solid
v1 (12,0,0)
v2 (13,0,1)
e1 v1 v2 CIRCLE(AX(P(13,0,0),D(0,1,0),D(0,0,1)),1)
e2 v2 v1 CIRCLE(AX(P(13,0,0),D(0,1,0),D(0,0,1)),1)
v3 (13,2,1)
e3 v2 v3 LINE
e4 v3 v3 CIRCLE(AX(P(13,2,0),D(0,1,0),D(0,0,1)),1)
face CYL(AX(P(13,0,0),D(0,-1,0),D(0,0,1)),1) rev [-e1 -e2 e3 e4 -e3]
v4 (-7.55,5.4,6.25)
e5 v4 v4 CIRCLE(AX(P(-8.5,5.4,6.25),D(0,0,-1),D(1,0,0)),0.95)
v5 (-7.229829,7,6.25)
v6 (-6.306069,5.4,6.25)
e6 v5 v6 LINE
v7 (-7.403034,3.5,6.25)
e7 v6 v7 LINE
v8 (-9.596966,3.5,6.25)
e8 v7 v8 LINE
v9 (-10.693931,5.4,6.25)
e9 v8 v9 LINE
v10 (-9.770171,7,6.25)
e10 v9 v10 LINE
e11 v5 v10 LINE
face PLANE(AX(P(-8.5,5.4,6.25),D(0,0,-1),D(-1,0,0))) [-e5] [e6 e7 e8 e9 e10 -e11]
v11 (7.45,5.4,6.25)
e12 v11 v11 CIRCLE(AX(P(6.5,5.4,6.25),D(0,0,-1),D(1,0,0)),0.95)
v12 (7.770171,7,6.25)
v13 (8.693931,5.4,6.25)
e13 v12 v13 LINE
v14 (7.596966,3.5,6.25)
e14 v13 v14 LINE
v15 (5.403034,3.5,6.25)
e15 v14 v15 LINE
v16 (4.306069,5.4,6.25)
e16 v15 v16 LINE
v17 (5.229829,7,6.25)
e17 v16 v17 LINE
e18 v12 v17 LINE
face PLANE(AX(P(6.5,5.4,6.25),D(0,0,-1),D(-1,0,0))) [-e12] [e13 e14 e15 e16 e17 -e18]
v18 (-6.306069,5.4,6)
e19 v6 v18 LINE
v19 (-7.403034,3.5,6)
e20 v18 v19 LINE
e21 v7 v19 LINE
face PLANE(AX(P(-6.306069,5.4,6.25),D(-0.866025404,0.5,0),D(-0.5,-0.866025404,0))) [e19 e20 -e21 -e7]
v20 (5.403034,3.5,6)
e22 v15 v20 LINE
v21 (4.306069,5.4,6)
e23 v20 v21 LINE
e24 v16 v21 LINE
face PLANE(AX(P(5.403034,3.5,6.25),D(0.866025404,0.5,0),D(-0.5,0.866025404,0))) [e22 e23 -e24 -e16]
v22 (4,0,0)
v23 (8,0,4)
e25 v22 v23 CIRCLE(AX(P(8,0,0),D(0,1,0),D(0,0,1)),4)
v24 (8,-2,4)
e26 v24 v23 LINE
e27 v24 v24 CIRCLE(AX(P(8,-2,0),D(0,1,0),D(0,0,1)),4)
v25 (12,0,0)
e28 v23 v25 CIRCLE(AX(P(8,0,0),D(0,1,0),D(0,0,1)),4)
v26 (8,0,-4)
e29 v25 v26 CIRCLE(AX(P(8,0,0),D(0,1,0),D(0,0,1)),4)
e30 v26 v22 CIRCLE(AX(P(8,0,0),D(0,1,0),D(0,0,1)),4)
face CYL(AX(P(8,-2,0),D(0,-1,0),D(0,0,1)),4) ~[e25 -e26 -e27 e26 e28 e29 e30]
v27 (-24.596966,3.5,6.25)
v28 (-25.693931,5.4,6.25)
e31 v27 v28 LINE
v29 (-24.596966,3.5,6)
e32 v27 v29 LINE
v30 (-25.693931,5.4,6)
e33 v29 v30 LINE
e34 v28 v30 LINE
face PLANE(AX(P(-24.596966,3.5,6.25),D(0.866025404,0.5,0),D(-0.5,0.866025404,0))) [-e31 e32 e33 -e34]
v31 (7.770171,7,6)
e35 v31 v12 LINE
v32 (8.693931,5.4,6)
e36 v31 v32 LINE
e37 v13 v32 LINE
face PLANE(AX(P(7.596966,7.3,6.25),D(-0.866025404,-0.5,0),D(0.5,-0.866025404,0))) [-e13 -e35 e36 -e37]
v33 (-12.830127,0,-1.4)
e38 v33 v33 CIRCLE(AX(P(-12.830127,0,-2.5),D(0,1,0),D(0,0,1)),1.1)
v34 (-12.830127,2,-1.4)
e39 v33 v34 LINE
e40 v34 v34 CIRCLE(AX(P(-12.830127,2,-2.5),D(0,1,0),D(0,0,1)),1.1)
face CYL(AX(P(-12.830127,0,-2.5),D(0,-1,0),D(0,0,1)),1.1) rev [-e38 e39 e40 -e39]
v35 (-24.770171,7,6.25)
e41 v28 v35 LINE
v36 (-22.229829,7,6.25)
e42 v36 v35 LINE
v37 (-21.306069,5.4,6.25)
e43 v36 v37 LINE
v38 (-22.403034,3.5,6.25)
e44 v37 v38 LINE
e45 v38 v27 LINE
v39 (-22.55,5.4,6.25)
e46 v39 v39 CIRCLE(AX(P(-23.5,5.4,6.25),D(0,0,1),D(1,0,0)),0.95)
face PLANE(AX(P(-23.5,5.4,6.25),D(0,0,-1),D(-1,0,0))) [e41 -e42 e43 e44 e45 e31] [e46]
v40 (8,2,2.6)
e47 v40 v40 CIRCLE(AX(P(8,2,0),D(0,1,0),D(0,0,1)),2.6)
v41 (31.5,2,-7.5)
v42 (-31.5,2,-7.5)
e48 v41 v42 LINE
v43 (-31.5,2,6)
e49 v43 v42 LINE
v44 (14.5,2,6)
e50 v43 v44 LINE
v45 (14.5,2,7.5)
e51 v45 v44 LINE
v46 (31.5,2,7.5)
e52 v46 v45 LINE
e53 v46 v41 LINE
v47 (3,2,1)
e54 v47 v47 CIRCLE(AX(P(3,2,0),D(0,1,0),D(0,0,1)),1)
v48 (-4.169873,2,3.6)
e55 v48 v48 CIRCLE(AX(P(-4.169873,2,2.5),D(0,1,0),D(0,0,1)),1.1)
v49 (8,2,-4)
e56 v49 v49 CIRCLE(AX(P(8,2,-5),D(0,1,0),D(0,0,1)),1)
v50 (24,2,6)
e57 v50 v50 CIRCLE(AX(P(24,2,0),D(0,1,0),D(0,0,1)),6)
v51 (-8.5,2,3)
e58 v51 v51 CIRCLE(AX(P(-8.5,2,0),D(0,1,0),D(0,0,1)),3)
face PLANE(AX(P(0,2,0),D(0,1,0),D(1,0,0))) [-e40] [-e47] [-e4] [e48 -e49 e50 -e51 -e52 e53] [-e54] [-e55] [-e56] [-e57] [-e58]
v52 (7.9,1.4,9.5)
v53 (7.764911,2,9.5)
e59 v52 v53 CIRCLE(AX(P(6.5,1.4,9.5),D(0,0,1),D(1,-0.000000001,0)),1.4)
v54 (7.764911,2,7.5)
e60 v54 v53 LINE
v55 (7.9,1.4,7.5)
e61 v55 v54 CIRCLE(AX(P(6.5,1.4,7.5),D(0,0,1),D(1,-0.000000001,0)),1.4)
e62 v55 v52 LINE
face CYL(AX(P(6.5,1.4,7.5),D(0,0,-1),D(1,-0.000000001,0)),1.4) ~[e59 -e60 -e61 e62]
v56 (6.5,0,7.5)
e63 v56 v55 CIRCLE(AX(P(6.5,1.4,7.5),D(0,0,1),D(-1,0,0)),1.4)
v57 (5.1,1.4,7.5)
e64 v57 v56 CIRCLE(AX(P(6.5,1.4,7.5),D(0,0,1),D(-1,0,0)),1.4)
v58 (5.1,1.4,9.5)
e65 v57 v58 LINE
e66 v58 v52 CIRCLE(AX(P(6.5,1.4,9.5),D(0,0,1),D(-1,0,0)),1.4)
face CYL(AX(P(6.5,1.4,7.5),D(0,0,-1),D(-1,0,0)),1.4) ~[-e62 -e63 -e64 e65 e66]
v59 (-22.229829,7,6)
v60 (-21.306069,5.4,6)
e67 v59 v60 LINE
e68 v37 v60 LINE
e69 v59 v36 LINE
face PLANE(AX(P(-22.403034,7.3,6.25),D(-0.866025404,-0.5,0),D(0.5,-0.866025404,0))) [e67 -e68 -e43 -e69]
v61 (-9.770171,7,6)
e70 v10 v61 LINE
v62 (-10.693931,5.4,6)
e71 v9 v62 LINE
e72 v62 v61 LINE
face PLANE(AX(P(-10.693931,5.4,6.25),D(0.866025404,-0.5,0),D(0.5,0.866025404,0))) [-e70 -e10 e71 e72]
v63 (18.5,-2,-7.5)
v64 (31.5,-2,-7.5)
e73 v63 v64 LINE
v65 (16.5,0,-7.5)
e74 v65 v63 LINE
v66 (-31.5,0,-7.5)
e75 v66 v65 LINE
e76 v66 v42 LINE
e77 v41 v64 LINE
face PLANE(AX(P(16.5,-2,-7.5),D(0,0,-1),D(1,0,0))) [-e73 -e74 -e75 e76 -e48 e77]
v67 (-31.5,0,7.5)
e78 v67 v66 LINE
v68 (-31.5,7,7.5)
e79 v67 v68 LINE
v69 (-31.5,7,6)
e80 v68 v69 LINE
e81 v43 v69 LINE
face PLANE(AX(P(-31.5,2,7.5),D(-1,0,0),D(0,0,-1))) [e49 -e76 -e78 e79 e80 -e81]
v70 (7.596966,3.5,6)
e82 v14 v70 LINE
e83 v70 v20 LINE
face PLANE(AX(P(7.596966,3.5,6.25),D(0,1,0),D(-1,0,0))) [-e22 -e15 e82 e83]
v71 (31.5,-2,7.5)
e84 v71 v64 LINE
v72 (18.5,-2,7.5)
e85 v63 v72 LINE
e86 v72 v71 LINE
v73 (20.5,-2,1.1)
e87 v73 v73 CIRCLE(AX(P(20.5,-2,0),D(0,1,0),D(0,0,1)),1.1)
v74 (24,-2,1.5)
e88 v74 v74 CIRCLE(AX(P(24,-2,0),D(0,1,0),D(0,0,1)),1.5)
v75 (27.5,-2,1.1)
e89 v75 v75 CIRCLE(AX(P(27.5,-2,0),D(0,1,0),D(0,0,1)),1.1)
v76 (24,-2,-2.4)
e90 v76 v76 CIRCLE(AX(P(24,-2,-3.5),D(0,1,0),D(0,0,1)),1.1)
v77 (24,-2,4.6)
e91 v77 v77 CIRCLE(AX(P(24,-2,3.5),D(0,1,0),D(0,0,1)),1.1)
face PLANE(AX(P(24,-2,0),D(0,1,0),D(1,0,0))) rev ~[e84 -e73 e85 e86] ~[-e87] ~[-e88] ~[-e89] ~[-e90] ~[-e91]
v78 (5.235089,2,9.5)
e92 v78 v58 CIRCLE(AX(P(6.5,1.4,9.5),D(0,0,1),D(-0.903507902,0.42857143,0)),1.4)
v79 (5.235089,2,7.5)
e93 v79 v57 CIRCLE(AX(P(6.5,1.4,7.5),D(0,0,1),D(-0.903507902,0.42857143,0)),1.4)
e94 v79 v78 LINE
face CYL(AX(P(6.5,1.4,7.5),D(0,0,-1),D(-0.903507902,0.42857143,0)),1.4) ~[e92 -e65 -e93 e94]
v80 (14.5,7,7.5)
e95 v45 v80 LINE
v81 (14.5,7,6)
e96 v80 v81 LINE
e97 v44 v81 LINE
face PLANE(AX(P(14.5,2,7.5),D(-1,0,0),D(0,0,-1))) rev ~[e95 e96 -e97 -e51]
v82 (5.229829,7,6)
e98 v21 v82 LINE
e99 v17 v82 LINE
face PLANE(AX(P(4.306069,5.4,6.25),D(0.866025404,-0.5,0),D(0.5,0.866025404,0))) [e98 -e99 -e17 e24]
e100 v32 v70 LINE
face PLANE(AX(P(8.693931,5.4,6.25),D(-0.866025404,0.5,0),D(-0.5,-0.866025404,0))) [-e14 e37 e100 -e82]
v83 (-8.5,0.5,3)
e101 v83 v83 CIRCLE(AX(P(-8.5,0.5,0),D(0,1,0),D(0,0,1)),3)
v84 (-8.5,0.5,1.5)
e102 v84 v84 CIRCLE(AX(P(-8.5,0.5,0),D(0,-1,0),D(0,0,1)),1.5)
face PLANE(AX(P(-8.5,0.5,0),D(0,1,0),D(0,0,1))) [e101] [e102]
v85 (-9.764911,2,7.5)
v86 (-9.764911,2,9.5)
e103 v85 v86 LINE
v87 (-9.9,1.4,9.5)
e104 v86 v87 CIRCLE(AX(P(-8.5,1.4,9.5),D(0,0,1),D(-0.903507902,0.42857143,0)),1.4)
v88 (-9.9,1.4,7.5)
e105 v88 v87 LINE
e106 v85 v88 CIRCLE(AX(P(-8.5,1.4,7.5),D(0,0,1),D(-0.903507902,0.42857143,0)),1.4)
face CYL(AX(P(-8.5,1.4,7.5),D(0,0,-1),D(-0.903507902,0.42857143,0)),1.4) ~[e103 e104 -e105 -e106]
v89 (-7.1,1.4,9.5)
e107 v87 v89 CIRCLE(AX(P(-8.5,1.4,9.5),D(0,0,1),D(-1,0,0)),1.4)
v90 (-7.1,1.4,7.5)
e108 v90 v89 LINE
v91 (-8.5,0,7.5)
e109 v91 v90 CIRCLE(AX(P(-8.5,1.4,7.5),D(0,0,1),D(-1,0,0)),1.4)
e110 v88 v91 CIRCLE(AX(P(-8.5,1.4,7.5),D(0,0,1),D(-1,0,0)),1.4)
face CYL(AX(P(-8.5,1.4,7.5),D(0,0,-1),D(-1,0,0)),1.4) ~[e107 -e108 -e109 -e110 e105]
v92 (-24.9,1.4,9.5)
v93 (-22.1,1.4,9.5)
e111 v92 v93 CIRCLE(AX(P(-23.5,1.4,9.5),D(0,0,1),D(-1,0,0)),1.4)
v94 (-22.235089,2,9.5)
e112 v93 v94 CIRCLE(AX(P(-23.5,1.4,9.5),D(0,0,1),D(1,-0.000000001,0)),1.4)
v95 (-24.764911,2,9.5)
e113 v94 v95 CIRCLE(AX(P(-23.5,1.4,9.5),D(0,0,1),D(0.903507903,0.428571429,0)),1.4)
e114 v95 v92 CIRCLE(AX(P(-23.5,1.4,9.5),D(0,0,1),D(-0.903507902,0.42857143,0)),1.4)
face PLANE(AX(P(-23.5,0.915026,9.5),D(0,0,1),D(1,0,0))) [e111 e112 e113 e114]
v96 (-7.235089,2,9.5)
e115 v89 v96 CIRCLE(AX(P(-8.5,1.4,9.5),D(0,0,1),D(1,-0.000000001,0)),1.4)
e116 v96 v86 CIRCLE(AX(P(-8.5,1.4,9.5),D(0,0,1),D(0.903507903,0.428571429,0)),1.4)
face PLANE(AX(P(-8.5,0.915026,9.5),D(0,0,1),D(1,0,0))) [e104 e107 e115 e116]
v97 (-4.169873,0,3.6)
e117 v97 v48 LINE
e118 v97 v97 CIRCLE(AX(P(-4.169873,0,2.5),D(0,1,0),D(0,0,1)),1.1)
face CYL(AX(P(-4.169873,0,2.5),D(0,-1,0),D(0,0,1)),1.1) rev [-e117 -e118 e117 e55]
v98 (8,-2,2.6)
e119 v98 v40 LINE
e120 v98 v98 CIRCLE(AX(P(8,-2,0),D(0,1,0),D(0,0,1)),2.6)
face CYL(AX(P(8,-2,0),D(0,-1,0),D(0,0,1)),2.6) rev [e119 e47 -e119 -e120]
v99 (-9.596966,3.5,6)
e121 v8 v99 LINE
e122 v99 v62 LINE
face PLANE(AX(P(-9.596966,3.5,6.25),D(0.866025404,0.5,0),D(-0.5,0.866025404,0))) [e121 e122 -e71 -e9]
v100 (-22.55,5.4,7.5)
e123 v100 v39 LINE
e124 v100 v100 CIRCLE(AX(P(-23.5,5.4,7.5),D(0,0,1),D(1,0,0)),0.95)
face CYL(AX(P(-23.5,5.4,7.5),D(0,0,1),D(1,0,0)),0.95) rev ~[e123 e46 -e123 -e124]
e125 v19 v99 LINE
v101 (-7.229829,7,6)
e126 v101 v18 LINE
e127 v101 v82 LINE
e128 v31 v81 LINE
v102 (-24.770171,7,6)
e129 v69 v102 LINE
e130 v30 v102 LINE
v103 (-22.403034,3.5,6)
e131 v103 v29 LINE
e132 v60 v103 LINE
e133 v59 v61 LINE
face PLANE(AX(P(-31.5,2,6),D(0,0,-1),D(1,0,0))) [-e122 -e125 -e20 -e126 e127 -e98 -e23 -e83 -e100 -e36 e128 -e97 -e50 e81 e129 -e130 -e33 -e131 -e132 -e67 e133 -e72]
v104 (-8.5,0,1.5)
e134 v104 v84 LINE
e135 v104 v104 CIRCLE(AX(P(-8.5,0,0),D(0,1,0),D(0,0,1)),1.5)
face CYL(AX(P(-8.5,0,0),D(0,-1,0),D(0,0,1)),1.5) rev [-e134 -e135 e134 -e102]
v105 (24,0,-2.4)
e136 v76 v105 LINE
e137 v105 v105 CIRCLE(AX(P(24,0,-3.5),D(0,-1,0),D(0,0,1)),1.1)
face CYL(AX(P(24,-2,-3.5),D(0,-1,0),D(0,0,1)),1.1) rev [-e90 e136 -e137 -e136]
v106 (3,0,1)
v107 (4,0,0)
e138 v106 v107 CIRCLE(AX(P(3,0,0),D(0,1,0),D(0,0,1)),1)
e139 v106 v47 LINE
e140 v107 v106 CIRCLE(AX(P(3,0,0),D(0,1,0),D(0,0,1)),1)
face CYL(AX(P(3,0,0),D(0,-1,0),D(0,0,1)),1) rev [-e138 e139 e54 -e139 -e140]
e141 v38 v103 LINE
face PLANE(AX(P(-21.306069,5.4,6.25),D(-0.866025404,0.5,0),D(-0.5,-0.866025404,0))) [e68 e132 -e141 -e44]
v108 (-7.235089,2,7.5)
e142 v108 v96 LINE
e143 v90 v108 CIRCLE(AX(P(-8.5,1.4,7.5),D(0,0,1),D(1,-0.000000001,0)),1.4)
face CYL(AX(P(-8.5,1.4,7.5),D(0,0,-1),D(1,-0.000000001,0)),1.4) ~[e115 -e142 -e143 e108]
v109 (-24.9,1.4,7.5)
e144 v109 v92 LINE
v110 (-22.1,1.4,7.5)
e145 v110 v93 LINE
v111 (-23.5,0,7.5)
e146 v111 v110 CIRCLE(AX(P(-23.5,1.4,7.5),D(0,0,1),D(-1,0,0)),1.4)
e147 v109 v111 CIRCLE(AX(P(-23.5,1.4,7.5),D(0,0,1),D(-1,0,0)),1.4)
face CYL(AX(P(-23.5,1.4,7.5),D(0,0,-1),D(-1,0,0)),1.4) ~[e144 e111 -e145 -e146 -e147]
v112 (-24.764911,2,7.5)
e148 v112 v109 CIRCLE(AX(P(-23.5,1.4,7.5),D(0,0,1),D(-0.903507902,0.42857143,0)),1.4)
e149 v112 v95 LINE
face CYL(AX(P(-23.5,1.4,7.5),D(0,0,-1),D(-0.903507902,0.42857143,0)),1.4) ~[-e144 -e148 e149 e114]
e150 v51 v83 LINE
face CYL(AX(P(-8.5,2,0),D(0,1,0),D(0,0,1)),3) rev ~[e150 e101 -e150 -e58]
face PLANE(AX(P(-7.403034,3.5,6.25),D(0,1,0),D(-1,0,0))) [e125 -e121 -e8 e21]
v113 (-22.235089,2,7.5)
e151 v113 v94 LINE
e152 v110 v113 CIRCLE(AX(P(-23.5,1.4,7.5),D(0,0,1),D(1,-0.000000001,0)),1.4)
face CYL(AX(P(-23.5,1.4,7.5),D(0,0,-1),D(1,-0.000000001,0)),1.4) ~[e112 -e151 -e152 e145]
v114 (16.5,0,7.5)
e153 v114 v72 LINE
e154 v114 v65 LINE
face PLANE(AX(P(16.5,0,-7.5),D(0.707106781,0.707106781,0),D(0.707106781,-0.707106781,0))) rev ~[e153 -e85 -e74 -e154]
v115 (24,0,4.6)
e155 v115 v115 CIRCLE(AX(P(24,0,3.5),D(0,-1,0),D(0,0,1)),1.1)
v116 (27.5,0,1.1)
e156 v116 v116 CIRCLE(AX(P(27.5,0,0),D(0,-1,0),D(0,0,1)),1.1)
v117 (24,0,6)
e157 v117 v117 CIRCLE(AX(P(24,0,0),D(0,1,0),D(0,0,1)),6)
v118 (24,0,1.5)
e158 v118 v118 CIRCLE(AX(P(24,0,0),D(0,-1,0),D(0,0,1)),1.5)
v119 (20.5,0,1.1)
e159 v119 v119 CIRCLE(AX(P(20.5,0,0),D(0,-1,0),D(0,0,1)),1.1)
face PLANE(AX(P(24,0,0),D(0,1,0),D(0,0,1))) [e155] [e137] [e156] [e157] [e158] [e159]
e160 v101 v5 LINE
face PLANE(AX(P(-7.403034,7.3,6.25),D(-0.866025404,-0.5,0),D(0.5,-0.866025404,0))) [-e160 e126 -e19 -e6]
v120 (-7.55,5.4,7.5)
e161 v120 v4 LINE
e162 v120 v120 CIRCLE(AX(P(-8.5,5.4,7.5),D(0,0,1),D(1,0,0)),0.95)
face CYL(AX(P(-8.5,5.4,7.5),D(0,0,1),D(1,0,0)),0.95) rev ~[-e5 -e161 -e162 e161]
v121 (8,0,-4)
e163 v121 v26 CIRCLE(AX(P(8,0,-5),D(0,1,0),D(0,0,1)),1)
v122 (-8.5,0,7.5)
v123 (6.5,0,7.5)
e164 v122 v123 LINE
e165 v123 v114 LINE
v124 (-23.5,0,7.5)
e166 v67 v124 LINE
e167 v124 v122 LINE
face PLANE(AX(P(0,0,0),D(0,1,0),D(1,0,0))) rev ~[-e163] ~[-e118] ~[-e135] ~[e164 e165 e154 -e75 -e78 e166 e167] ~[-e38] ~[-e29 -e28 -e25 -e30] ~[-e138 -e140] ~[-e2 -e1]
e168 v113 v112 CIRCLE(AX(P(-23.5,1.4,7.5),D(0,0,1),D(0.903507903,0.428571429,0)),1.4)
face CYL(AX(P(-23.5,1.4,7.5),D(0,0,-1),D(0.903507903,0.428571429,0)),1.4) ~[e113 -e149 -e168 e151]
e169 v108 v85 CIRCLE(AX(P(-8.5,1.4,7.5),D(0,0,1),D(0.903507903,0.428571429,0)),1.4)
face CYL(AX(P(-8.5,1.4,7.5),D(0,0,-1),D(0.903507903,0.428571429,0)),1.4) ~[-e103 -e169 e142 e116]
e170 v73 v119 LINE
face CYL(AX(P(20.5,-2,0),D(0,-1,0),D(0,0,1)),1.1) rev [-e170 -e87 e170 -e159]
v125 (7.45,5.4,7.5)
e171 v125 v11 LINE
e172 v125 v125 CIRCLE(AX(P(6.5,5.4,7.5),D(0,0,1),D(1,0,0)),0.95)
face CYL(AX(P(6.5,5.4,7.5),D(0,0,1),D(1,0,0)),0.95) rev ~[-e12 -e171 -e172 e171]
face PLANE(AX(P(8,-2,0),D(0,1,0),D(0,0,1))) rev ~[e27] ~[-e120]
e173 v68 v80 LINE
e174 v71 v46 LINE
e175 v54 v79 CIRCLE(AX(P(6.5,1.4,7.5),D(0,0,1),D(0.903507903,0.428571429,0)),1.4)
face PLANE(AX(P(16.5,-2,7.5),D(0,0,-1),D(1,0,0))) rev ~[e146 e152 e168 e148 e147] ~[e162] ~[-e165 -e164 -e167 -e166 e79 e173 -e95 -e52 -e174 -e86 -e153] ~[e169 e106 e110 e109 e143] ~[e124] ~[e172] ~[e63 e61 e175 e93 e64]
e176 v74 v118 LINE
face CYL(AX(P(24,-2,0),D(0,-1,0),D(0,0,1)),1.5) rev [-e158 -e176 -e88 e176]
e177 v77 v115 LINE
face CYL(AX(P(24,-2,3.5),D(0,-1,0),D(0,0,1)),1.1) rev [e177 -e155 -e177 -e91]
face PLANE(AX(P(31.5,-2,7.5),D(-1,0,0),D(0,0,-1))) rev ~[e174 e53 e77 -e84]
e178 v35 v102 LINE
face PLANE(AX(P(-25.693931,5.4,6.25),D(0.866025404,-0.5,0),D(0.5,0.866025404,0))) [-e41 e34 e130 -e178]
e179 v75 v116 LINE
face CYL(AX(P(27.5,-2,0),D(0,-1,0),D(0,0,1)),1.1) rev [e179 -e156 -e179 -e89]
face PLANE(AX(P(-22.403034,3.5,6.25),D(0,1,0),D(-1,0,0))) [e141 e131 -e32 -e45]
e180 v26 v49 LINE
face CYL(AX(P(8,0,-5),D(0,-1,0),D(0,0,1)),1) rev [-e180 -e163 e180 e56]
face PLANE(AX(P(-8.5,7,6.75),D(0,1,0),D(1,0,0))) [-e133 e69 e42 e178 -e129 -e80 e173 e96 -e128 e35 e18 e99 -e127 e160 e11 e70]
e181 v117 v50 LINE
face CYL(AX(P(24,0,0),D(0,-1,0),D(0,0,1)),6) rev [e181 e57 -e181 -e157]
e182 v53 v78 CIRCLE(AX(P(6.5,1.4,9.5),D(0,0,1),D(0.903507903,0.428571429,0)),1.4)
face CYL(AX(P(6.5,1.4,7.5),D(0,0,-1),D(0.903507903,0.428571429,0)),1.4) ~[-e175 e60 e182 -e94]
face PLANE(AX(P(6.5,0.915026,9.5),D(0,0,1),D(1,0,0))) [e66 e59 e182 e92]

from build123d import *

# Parameters (mm, degrees)
SKETCH_1_W          = 63
SKETCH_1_H          = 15
SKETCH_1_R          = 1.1
SKETCH_1_R_2        = 1
SKETCH_1_R_3        = 1.5
SKETCH_1_R_4        = 2.6
EXTRUDE_1_DEPTH     = 2
EXTRUDE_2_DEPTH     = 2
SKETCH_4_R          = 3
CUT_EXTRUDE_1_DEPTH = 1.5
SKETCH_5_W          = 46
SKETCH_5_H          = 1.5
EXTRUDE_3_DEPTH     = 5
SKETCH_2_3_R        = 0.95
CUT_EXTRUDE_2_DEPTH = 6
CUT_EXTRUDE_START   = -0.25
SKETCH_7_R          = 0.95
CUT_EXTRUDE_3_DEPTH = 0.25
SKETCH_1_3_W        = 15
SKETCH_1_3_H        = 15
SKETCH_1_3_R        = 6
SKETCH_1_3_R_2      = 1.5
SKETCH_1_3_R_3      = 1.1
EXTRUDE_4_DEPTH     = 2
EXTRUDE_START       = -2
SKETCH_1_4_W        = 15
SKETCH_1_4_H        = 15
SKETCH_1_4_R        = 6
SKETCH_1_4_R_2      = 1.5
SKETCH_1_4_R_3      = 1.1
EXTRUDE_5_DEPTH     = 2
SKETCH_1_5_R        = 6
CUT_EXTRUDE_4_DEPTH = 2
CUT_EXTRUDE_5_DEPTH = 15
SKETCH_1_6_R        = 4
SKETCH_1_6_R_2      = 2.6
EXTRUDE_6_DEPTH     = 2


with BuildPart() as part:
    # 草图1 → 凸台-拉伸1 (new body)
    with BuildSketch(Plane(origin=(0, 0, 0), x_dir=(1, 0, 0), z_dir=(0, 1, 0))):
        Rectangle(SKETCH_1_W, SKETCH_1_H)
        with Locations(Location((-4.169872981, -2.5, 0), (0, 0, 270))):
            Circle(SKETCH_1_R, mode=Mode.SUBTRACT)
        with Locations(Location((3, 0, 0), (0, 0, 270))):
            Circle(SKETCH_1_R_2, mode=Mode.SUBTRACT)
        with Locations(Location((13, 0, 0), (0, 0, 270))):
            Circle(SKETCH_1_R_2, mode=Mode.SUBTRACT)
        with Locations(Location((-8.5, 0, 0), (0, 0, 270))):
            Circle(SKETCH_1_R_3, mode=Mode.SUBTRACT)
        with Locations(Location((-12.830127019, 2.5, 0), (0, 0, 270))):
            Circle(SKETCH_1_R, mode=Mode.SUBTRACT)
        with Locations(Location((8, 5, 0), (0, 0, 270))):
            Circle(SKETCH_1_R_2, mode=Mode.SUBTRACT)
        with Locations(Location((8, 0, 0), (0, 0, 270))):
            Circle(SKETCH_1_R_4, mode=Mode.SUBTRACT)
        with Locations(Location((24, 3.5, 0), (0, 0, 270))):
            Circle(SKETCH_1_R, mode=Mode.SUBTRACT)
        with Locations(Location((24, -3.5, 0), (0, 0, 270))):
            Circle(SKETCH_1_R, mode=Mode.SUBTRACT)
        with Locations(Location((20.5, 0, 0), (0, 0, 270))):
            Circle(SKETCH_1_R, mode=Mode.SUBTRACT)
        with Locations(Location((24, 0, 0), (0, 0, 270))):
            Circle(SKETCH_1_R_3, mode=Mode.SUBTRACT)
        with Locations(Location((27.5, 0, 0), (0, 0, 270))):
            Circle(SKETCH_1_R, mode=Mode.SUBTRACT)
    extrude(amount=EXTRUDE_1_DEPTH)

    # 草图2 → 凸台-拉伸2 (add)
    with BuildSketch(Plane.XY.offset(7.5)):
        with BuildLine():
            Line((-22.1, 1.4), (-24.9, 1.4))
            ThreePointArc((-24.9, 1.4), (-23.5, 0), (-22.1, 1.4))
        make_face()
        with BuildLine():
            ThreePointArc((-24.764911064, 2), (-24.865810289, 1.707509764), (-24.9, 1.4))
            Line((-24.9, 1.4), (-22.1, 1.4))
            ThreePointArc((-22.1, 1.4), (-22.134189711, 1.707509764), (-22.235088936, 2))
            Line((-22.235088936, 2), (-24.764911064, 2))
        make_face()
        with BuildLine():
            ThreePointArc((-22.235088936, 2), (-23.5, 2.8), (-24.764911064, 2))
            Line((-24.764911064, 2), (-22.235088936, 2))
        make_face()
        with BuildLine():
            Line((-7.1, 1.4), (-9.9, 1.4))
            ThreePointArc((-9.9, 1.4), (-8.5, 0), (-7.1, 1.4))
        make_face()
        with BuildLine():
            ThreePointArc((-9.764911064, 2), (-9.865810289, 1.707509764), (-9.9, 1.4))
            Line((-9.9, 1.4), (-7.1, 1.4))
            ThreePointArc((-7.1, 1.4), (-7.134189711, 1.707509764), (-7.235088936, 2))
            Line((-7.235088936, 2), (-9.764911064, 2))
        make_face()
        with BuildLine():
            ThreePointArc((-7.235088936, 2), (-8.5, 2.8), (-9.764911064, 2))
            Line((-9.764911064, 2), (-7.235088936, 2))
        make_face()
        with BuildLine():
            Line((7.9, 1.4), (5.1, 1.4))
            ThreePointArc((5.1, 1.4), (6.5, 0), (7.9, 1.4))
        make_face()
        with BuildLine():
            ThreePointArc((5.235088936, 2), (5.134189711, 1.707509764), (5.1, 1.4))
            Line((5.1, 1.4), (7.9, 1.4))
            ThreePointArc((7.9, 1.4), (7.865810289, 1.707509764), (7.764911064, 2))
            Line((7.764911064, 2), (5.235088936, 2))
        make_face()
        with BuildLine():
            ThreePointArc((7.764911064, 2), (6.5, 2.8), (5.235088936, 2))
            Line((5.235088936, 2), (7.764911064, 2))
        make_face()
    extrude(amount=EXTRUDE_2_DEPTH)

    # 草图4 → 切除-拉伸1 (cut)
    with BuildSketch(Plane(origin=(0, 2, 0), x_dir=(1, 0, 0), z_dir=(0, 1, 0))):
        with Locations(Location((-8.5, 0, 0), (0, 0, 270))):
            Circle(SKETCH_4_R)
    extrude(amount=-CUT_EXTRUDE_1_DEPTH, mode=Mode.SUBTRACT)

    # 草图5 → 凸台-拉伸3 (add)
    with BuildSketch(Plane(origin=(0, 2, 0), x_dir=(1, 0, 0), z_dir=(0, 1, 0))):
        with Locations((-8.5, -6.75)):
            Rectangle(SKETCH_5_W, SKETCH_5_H)
    extrude(amount=EXTRUDE_3_DEPTH)

    # 草图2<3> → 切除-拉伸2 (cut)
    with BuildSketch(Plane.XY.offset(7.5)):
        with Locations((-23.5, 5.4)):
            Circle(SKETCH_2_3_R)
        with Locations((-8.5, 5.4)):
            Circle(SKETCH_2_3_R)
        with Locations((6.5, 5.4)):
            Circle(SKETCH_2_3_R)
    extrude(amount=-CUT_EXTRUDE_2_DEPTH, mode=Mode.SUBTRACT)

    # 草图7 → 切除-拉伸3 (cut)
    # profile 1 of 3: a face of its own
    with BuildSketch(Plane(origin=(0, 0, 6), x_dir=(-1, 0, 0), z_dir=(0, 0, -1)).offset(CUT_EXTRUDE_START)):
        Polygon((-7.596965511, 3.5), (-5.403034489, 3.5), (-4.306068977, 5.4), (-5.403034489, 7.3), (-7.596965511, 7.3), (-8.693931023, 5.4), align=None)
        with Locations(Location((-6.5, 5.4, 0), (0, 0, 180))):
            Circle(SKETCH_7_R, mode=Mode.SUBTRACT)
    # profile 2 of 3: a face of its own
    with BuildSketch(Plane(origin=(0, 0, 6), x_dir=(-1, 0, 0), z_dir=(0, 0, -1)).offset(CUT_EXTRUDE_START)):
        Polygon((6.306068977, 5.4), (7.403034489, 3.5), (9.596965511, 3.5), (10.693931023, 5.4), (9.596965511, 7.3), (7.403034489, 7.3), align=None)
        with Locations(Location((8.5, 5.4, 0), (0, 0, 180))):
            Circle(SKETCH_7_R, mode=Mode.SUBTRACT)
    # profile 3 of 3: a face of its own
    with BuildSketch(Plane(origin=(0, 0, 6), x_dir=(-1, 0, 0), z_dir=(0, 0, -1)).offset(CUT_EXTRUDE_START)):
        Polygon((21.306068977, 5.4), (22.403034489, 3.5), (24.596965511, 3.5), (25.693931023, 5.4), (24.596965511, 7.3), (22.403034489, 7.3), align=None)
    extrude(amount=CUT_EXTRUDE_3_DEPTH, mode=Mode.SUBTRACT)

    # 草图1<3> → 凸台-拉伸4 (add)
    # profile 1 of 2: a face of its own
    with BuildSketch(Plane(origin=(0, 0, 0), x_dir=(1, 0, 0), z_dir=(0, 1, 0))):
        with Locations((24, 0)):
            Rectangle(SKETCH_1_3_W, SKETCH_1_3_H)
        with Locations((24, 0)):
            Circle(SKETCH_1_3_R, mode=Mode.SUBTRACT)
    # profile 2 of 2: a face of its own
    with BuildSketch(Plane(origin=(0, 0, 0), x_dir=(1, 0, 0), z_dir=(0, 1, 0))):
        with Locations((24, 0)):
            Circle(SKETCH_1_3_R)
        with Locations(Location((24, 0, 0), (0, 0, 270))):
            Circle(SKETCH_1_3_R_2, mode=Mode.SUBTRACT)
        with Locations(Location((27.5, 0, 0), (0, 0, 270))):
            Circle(SKETCH_1_3_R_3, mode=Mode.SUBTRACT)
        with Locations(Location((24, -3.5, 0), (0, 0, 270))):
            Circle(SKETCH_1_3_R_3, mode=Mode.SUBTRACT)
        with Locations(Location((20.5, 0, 0), (0, 0, 270))):
            Circle(SKETCH_1_3_R_3, mode=Mode.SUBTRACT)
        with Locations(Location((24, 3.5, 0), (0, 0, 270))):
            Circle(SKETCH_1_3_R_3, mode=Mode.SUBTRACT)
    extrude(amount=EXTRUDE_4_DEPTH)

    # 草图1<4> → 凸台-拉伸5 (add)
    # profile 1 of 2: a face of its own
    with BuildSketch(Plane(origin=(0, 0, 0), x_dir=(1, 0, 0), z_dir=(0, 1, 0)).offset(EXTRUDE_START)):
        with Locations((24, 0)):
            Rectangle(SKETCH_1_4_W, SKETCH_1_4_H)
        with Locations((24, 0)):
            Circle(SKETCH_1_4_R, mode=Mode.SUBTRACT)
    # profile 2 of 2: a face of its own
    with BuildSketch(Plane(origin=(0, 0, 0), x_dir=(1, 0, 0), z_dir=(0, 1, 0)).offset(EXTRUDE_START)):
        with Locations((24, 0)):
            Circle(SKETCH_1_4_R)
        with Locations(Location((24, 0, 0), (0, 0, 270))):
            Circle(SKETCH_1_4_R_2, mode=Mode.SUBTRACT)
        with Locations(Location((27.5, 0, 0), (0, 0, 270))):
            Circle(SKETCH_1_4_R_3, mode=Mode.SUBTRACT)
        with Locations(Location((24, -3.5, 0), (0, 0, 270))):
            Circle(SKETCH_1_4_R_3, mode=Mode.SUBTRACT)
        with Locations(Location((20.5, 0, 0), (0, 0, 270))):
            Circle(SKETCH_1_4_R_3, mode=Mode.SUBTRACT)
        with Locations(Location((24, 3.5, 0), (0, 0, 270))):
            Circle(SKETCH_1_4_R_3, mode=Mode.SUBTRACT)
    extrude(amount=EXTRUDE_5_DEPTH)

    # 草图1<5> → 切除-拉伸4 (cut)
    with BuildSketch(Plane(origin=(0, 0, 0), x_dir=(1, 0, 0), z_dir=(0, 1, 0))):
        with Locations(Location((24, 0, 0), (0, 0, 270))):
            Circle(SKETCH_1_5_R)
    extrude(amount=CUT_EXTRUDE_4_DEPTH, mode=Mode.SUBTRACT)

    # 草图8 → 切除-拉伸5 (cut)
    with BuildSketch(Plane(origin=(0, 0, -7.5), x_dir=(-1, 0, 0), z_dir=(0, 0, -1))):
        Polygon((-16.5, 0), (-18.5, -2), (-16.5, -2), align=None)
    extrude(amount=-CUT_EXTRUDE_5_DEPTH, mode=Mode.SUBTRACT)

    # 草图1<6> → 凸台-拉伸6 (add)
    with BuildSketch(Plane(origin=(0, 0, 0), x_dir=(1, 0, 0), z_dir=(0, 1, 0)).offset(EXTRUDE_START)):
        with Locations(Location((8, 0, 0), (0, 0, 270))):
            Circle(SKETCH_1_6_R)
        with Locations(Location((8, 0, 0), (0, 0, 270))):
            Circle(SKETCH_1_6_R_2, mode=Mode.SUBTRACT)
    extrude(amount=EXTRUDE_6_DEPTH)


solid = part.part
